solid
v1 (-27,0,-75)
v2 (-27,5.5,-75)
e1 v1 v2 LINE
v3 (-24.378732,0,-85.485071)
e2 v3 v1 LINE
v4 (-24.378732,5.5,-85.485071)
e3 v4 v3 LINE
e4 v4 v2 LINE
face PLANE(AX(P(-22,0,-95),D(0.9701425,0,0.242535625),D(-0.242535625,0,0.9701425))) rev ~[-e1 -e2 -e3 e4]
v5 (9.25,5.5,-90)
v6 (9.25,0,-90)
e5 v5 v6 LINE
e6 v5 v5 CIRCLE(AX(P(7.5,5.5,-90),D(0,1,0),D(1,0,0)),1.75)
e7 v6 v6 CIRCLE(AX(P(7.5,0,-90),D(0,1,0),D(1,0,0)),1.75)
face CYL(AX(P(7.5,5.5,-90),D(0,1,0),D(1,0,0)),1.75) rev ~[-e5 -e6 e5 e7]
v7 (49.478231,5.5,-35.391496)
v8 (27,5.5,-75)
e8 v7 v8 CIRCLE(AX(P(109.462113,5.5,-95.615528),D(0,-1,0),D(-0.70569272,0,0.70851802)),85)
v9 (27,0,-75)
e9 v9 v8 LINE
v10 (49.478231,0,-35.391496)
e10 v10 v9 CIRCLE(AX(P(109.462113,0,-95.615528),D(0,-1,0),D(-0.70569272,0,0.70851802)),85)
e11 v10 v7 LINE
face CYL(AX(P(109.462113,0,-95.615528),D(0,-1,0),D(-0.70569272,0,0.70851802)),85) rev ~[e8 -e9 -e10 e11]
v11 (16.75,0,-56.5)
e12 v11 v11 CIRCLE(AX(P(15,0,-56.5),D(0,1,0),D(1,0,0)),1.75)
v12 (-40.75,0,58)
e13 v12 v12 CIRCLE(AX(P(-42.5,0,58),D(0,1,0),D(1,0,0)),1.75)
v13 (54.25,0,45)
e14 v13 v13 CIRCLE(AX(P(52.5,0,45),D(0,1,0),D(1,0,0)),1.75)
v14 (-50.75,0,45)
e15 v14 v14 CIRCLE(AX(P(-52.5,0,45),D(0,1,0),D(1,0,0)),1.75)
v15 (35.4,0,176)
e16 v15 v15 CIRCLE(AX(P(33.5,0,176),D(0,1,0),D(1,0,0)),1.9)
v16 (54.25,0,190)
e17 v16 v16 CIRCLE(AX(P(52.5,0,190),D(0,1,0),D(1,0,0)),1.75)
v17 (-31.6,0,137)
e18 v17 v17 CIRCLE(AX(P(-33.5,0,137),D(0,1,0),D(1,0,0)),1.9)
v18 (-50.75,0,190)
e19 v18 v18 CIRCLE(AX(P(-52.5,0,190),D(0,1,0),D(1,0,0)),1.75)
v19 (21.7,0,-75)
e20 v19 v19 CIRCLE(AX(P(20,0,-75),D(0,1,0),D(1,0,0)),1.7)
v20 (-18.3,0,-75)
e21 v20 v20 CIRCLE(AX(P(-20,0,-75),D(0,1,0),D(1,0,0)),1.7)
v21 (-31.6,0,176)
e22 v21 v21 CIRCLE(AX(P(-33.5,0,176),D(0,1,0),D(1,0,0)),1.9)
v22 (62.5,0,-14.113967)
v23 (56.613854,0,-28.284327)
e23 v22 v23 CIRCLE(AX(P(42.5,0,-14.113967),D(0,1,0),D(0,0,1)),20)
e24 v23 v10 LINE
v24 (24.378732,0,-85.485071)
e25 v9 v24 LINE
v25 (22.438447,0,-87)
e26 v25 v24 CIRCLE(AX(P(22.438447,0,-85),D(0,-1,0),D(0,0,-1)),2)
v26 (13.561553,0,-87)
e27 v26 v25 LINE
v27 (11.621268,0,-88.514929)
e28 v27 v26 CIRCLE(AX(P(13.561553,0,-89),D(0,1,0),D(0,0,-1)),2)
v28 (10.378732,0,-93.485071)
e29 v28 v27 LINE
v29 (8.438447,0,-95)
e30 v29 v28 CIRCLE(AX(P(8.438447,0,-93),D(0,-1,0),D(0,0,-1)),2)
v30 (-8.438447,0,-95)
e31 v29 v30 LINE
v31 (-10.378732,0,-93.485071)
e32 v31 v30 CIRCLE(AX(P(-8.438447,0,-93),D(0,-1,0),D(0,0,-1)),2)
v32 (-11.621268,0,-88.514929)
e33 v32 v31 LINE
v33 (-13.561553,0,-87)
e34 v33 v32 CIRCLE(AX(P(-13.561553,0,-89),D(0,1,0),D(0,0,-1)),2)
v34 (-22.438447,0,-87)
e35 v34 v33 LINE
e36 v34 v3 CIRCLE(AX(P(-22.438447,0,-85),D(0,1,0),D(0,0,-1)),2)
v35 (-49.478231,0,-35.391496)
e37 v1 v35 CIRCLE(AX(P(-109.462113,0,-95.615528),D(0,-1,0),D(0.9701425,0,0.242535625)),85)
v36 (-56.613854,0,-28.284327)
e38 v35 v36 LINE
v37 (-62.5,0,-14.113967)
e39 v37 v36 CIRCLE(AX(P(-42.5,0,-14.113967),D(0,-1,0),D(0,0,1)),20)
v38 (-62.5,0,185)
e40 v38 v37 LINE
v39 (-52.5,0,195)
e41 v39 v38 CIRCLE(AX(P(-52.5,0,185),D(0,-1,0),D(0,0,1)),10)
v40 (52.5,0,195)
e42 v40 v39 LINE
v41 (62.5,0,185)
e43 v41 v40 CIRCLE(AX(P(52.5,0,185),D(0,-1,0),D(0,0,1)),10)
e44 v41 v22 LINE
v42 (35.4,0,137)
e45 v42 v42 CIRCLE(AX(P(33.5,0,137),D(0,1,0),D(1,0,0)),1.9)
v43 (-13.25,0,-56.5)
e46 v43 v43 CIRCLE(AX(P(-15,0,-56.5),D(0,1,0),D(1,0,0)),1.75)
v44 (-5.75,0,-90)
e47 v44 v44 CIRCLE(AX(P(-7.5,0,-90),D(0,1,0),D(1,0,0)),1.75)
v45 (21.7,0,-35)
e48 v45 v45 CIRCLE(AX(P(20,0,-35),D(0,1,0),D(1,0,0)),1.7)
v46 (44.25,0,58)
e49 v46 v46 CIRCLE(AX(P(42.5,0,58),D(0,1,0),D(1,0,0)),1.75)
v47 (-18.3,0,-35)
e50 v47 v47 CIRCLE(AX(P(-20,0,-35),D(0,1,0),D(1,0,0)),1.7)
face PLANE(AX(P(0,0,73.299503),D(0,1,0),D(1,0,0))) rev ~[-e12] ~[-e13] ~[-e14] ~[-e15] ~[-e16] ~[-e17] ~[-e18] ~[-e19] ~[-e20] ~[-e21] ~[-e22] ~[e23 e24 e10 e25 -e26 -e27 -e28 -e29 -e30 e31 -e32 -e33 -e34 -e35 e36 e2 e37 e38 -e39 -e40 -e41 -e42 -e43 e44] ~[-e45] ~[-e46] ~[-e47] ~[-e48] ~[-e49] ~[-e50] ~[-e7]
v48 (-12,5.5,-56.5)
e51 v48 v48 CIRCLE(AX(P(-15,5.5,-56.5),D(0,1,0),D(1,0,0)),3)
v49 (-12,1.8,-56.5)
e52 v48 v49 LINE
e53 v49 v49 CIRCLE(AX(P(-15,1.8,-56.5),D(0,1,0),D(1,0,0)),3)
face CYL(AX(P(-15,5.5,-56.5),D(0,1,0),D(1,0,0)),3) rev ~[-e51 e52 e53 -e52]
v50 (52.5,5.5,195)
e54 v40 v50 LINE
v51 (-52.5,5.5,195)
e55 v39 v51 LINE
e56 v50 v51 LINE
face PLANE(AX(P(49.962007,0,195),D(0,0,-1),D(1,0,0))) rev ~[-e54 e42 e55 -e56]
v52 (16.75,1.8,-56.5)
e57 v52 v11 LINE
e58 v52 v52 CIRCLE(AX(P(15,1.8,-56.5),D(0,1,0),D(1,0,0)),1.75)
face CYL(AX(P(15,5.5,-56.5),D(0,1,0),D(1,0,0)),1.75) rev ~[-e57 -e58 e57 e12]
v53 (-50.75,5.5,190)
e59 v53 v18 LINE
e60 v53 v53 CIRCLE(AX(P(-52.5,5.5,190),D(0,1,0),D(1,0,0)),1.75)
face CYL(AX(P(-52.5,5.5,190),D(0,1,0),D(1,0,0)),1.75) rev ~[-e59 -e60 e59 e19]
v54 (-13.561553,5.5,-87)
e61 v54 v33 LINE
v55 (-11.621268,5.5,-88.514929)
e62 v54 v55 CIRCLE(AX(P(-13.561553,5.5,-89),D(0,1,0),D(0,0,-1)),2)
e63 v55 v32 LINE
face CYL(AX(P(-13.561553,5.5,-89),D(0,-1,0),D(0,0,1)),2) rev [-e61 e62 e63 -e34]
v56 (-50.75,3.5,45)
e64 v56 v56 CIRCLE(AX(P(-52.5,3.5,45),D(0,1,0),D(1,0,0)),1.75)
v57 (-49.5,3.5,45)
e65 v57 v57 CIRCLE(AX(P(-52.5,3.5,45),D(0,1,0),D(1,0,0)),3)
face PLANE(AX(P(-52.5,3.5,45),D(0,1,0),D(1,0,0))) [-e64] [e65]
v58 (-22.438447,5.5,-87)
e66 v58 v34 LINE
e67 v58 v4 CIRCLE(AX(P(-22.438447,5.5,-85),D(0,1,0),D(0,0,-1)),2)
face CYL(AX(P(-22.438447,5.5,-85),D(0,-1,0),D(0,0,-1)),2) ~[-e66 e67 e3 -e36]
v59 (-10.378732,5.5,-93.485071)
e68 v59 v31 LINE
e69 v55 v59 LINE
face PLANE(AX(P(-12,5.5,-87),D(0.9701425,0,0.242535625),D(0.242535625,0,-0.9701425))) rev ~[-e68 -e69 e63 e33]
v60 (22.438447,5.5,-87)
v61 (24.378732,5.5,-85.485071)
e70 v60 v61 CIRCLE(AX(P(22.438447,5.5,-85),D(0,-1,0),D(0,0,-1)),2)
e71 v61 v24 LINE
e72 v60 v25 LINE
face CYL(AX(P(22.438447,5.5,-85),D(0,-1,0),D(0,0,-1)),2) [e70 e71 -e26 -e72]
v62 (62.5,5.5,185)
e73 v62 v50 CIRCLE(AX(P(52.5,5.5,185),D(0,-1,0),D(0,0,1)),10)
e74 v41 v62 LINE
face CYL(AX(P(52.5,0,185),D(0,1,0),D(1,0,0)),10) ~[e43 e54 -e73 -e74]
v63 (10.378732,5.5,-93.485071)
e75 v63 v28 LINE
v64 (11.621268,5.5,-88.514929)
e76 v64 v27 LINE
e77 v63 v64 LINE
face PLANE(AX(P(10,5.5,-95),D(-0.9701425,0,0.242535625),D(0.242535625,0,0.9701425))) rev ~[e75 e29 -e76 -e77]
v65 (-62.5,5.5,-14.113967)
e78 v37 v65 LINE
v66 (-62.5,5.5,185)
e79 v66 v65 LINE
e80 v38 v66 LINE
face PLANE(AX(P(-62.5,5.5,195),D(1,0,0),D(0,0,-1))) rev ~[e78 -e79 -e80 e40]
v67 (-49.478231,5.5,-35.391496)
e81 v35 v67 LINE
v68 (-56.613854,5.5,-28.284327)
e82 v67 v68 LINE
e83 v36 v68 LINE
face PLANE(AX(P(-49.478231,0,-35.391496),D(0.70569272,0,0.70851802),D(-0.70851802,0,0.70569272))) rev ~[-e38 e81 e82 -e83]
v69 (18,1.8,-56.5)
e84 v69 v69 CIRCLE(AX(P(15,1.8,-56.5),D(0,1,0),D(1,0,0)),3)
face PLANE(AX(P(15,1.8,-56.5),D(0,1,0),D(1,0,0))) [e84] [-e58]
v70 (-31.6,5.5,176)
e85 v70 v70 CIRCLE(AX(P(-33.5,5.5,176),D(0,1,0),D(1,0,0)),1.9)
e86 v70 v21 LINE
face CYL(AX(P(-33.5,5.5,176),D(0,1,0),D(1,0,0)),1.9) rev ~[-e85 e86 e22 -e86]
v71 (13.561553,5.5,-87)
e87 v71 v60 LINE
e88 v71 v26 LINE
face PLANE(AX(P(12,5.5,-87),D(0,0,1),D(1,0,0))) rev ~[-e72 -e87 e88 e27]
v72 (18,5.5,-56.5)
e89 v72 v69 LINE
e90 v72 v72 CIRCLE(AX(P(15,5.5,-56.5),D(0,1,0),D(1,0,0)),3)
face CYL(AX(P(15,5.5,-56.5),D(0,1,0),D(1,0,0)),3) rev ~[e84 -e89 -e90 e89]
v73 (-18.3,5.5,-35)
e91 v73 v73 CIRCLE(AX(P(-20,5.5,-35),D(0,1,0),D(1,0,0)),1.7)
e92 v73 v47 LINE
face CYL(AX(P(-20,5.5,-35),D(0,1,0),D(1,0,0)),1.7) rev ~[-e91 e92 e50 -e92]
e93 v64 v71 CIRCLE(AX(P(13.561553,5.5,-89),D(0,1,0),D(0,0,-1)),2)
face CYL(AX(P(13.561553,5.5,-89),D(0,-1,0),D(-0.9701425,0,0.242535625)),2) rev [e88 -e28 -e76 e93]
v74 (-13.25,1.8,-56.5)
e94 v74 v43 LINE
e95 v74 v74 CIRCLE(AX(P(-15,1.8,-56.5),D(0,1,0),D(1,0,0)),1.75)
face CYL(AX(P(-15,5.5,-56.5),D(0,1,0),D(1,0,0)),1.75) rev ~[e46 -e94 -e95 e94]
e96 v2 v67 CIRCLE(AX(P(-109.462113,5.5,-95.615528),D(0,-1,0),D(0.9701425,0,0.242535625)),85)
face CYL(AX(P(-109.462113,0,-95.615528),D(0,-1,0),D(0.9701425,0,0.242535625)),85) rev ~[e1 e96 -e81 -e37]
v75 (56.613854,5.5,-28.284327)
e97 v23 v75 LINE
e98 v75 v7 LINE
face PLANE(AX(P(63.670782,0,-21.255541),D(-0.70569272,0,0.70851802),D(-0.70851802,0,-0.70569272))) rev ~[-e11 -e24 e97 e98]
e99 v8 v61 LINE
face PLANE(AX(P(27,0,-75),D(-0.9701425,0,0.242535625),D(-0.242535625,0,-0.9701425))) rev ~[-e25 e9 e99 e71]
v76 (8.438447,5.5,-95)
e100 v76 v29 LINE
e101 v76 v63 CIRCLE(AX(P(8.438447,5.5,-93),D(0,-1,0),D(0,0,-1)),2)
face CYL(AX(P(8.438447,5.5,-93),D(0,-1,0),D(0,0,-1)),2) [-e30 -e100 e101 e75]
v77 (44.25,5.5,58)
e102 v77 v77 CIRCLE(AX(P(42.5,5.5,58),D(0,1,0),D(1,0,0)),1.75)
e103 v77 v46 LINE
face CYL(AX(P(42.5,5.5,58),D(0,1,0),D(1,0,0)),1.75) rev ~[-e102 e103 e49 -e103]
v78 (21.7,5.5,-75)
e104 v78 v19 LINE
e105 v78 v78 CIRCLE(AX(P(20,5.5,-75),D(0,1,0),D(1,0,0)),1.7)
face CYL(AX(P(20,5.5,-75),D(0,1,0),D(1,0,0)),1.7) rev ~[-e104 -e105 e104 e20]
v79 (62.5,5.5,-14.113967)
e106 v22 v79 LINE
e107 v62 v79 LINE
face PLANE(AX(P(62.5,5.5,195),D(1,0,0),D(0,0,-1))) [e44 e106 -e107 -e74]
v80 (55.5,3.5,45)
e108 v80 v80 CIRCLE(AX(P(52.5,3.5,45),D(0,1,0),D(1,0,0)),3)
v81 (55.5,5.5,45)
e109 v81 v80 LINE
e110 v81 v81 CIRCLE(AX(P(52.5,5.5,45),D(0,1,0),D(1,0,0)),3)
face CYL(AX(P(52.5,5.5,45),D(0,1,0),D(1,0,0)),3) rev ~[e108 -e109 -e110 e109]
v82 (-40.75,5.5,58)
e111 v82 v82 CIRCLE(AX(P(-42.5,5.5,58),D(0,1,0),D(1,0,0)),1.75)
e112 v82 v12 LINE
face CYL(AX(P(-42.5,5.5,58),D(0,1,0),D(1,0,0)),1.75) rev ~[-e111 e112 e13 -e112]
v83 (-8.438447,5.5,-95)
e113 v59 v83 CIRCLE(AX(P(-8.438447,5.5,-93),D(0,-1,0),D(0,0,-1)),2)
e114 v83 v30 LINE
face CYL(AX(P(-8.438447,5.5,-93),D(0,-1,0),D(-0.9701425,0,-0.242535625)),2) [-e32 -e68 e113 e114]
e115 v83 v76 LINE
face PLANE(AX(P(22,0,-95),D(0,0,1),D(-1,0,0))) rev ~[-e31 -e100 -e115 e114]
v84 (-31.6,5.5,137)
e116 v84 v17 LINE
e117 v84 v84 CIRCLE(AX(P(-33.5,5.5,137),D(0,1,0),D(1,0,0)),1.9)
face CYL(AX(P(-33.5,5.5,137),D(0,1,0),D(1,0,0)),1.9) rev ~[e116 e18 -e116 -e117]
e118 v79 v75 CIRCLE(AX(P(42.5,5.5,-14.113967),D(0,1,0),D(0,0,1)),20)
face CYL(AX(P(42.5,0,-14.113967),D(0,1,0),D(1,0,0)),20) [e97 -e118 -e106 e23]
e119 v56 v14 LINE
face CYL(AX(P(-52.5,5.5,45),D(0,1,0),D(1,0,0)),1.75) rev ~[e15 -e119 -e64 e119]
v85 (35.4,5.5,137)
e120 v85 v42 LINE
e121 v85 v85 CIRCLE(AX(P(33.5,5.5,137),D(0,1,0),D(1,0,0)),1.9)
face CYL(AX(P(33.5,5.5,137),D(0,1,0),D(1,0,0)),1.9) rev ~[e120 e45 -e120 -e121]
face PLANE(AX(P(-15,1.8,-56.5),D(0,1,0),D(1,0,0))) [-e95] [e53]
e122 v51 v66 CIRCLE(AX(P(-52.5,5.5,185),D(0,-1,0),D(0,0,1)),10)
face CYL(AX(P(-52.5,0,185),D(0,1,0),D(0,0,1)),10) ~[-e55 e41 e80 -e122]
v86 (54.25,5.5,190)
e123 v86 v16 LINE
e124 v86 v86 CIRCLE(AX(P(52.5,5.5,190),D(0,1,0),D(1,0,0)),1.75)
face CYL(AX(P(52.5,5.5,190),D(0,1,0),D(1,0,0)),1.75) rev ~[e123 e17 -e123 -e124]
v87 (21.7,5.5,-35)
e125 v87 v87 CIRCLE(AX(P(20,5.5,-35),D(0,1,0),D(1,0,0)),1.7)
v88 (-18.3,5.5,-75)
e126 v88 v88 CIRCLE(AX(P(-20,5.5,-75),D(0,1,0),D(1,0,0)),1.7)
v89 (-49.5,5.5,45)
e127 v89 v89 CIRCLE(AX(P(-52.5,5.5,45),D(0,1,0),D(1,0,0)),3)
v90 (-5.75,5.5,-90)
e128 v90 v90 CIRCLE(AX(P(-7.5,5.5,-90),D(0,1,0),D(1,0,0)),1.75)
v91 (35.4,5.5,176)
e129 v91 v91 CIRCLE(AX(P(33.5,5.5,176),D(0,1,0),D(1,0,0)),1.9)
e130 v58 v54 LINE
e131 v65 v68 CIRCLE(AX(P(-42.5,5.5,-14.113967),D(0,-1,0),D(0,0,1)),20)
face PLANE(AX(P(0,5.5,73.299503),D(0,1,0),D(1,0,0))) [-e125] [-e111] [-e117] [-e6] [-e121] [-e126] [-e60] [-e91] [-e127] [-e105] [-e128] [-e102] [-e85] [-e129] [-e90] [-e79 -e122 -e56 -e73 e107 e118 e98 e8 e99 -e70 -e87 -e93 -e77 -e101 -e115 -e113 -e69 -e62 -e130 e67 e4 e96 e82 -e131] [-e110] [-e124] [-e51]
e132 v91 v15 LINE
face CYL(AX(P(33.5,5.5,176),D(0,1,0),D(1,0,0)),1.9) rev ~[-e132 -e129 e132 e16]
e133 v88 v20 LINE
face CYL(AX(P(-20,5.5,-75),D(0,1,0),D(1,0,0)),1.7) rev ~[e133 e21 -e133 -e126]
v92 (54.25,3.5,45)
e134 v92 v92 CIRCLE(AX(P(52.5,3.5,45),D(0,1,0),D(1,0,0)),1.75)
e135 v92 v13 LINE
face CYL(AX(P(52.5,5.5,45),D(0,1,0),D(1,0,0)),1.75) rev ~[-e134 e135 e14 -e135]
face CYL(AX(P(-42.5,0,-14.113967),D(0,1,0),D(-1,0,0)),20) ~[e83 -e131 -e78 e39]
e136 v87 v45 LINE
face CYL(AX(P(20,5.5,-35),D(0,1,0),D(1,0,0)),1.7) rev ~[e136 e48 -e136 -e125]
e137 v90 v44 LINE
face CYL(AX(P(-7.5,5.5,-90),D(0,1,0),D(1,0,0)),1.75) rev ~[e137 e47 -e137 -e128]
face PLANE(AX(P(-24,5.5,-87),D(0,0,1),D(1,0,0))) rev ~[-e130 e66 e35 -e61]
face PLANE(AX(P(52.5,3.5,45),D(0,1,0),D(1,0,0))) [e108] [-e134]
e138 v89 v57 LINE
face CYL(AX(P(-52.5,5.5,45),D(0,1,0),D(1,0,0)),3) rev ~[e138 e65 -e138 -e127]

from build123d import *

# Parameters (mm, degrees)
DECK_BASE_DEPTH       = 5.5
BOLT_SLOT_REACH       = 7.5
SKETCH_3_R            = 1.75
SKETCH_14_R           = 3
BOLT_HEAD_DEPTH       = 2
FILLET_1_R            = 4
CUT_EXTRUDE_6_REACH   = 7.5
SKETCH_15_W           = 145
SKETCH_15_H           = 39
CUT_EXTRUDE_7_DEPTH   = 10
FILLET_2_R            = 2
SKETCH_17_OUTSIDE_W   = 211.856
SKETCH_17_OUTSIDE_H   = 356.856
SKETCH_17_OUTSIDE_W_2 = 125
SKETCH_17_OUTSIDE_H_2 = 290
CUT_EXTRUDE_8_DEPTH   = 10
FILLET_4_R            = 10
FILLET_5_R            = 20
LIDAR_SLOT_REACH      = 7.5
SKETCH_4_R            = 1.7
VESC_SLOT_REACH       = 7.5
SKETCH_6_R            = 1.9
NANO_SLOT_REACH       = 7.5
SKETCH_7_R            = 1.75
CUT_EXTRUDE_3_REACH   = 7.5
SKETCH_12_R           = 1.75
SKETCH_13_R           = 3
CUT_EXTRUDE_4_DEPTH   = 3.7


with BuildPart() as part:
    # 스케치1 → Deck base (new body)
    with BuildSketch(Plane(origin=(0, 0, 0), x_dir=(1, 0, 0), z_dir=(0, 1, 0))):
        with BuildLine():
            Line((-72.5, 0), (-72.5, -185))
            ThreePointArc((-72.5, -185), (-69.571067812, -192.071067812), (-62.5, -195))
            Line((-62.5, -195), (-49.962007487, -195))
            ThreePointArc((-49.962007487, -195), (-47.753248675, -195.514313374), (-45.998887542, -196.951446196))
            Line((-45.998887542, -196.951446196), (-19.001112458, -232.048553804))
            ThreePointArc((-19.001112458, -232.048553804), (-17.246751325, -233.485686626), (-15.037992513, -234))
            Line((-15.037992513, -234), (15.037992513, -234))
            ThreePointArc((15.037992513, -234), (17.246751325, -233.485686626), (19.001112458, -232.048553804))
            Line((19.001112458, -232.048553804), (45.998887542, -196.951446196))
            ThreePointArc((45.998887542, -196.951446196), (47.753248675, -195.514313374), (49.962007487, -195))
            Line((49.962007487, -195), (62.5, -195))
            ThreePointArc((62.5, -195), (69.571067812, -192.071067812), (72.5, -185))
            Line((72.5, -185), (72.5, 0))
            ThreePointArc((72.5, 0), (70.204904333, 11.508182998), (63.670781605, 21.255540601))
            Line((63.670781605, 21.255540601), (49.478231298, 35.391496426))
            ThreePointArc((49.478231298, 35.391496426), (35.536990456, 53.662264501), (27, 75))
            Line((27, 75), (22, 95))
            Line((22, 95), (-22, 95))
            Line((-22, 95), (-27, 75))
            ThreePointArc((-27, 75), (-35.536990456, 53.662264501), (-49.478231298, 35.391496426))
            Line((-49.478231298, 35.391496426), (-63.670781605, 21.255540601))
            ThreePointArc((-63.670781605, 21.255540601), (-70.204904333, 11.508182998), (-72.5, 0))
        make_face()
    extrude(amount=DECK_BASE_DEPTH)

    # 스케치3 → Bolt slot (cut, up to next)
    with BuildSketch(Plane(origin=(0, 5.5, 0), x_dir=(1, 0, 0), z_dir=(0, 1, 0)), mode=Mode.PRIVATE) as bolt_slot_sk1:
        with Locations((7.5, 90)):
            Circle(SKETCH_3_R)
    bolt_slot_tool1 = extrude(bolt_slot_sk1.sketch, amount=-BOLT_SLOT_REACH, mode=Mode.PRIVATE) & part.part
    add(bolt_slot_tool1.solids().sort_by_distance((7.5, 5.5, -90))[0], mode=Mode.SUBTRACT)
    # 스케치3 → Bolt slot (cut, up to next)
    with BuildSketch(Plane(origin=(0, 5.5, 0), x_dir=(1, 0, 0), z_dir=(0, 1, 0)), mode=Mode.PRIVATE) as bolt_slot_sk2:
        with Locations((-7.5, 90)):
            Circle(SKETCH_3_R)
    bolt_slot_tool2 = extrude(bolt_slot_sk2.sketch, amount=-BOLT_SLOT_REACH, mode=Mode.PRIVATE) & part.part
    add(bolt_slot_tool2.solids().sort_by_distance((-7.5, 5.5, -90))[0], mode=Mode.SUBTRACT)
    # 스케치3 → Bolt slot (cut, up to next)
    with BuildSketch(Plane(origin=(0, 5.5, 0), x_dir=(1, 0, 0), z_dir=(0, 1, 0)), mode=Mode.PRIVATE) as bolt_slot_sk3:
        with Locations((52.5, -45)):
            Circle(SKETCH_3_R)
    bolt_slot_tool3 = extrude(bolt_slot_sk3.sketch, amount=-BOLT_SLOT_REACH, mode=Mode.PRIVATE) & part.part
    add(bolt_slot_tool3.solids().sort_by_distance((52.5, 5.5, 45))[0], mode=Mode.SUBTRACT)
    # 스케치3 → Bolt slot (cut, up to next)
    with BuildSketch(Plane(origin=(0, 5.5, 0), x_dir=(1, 0, 0), z_dir=(0, 1, 0)), mode=Mode.PRIVATE) as bolt_slot_sk4:
        with Locations((52.5, -190)):
            Circle(SKETCH_3_R)
    bolt_slot_tool4 = extrude(bolt_slot_sk4.sketch, amount=-BOLT_SLOT_REACH, mode=Mode.PRIVATE) & part.part
    add(bolt_slot_tool4.solids().sort_by_distance((52.5, 5.5, 190))[0], mode=Mode.SUBTRACT)
    # 스케치3 → Bolt slot (cut, up to next)
    with BuildSketch(Plane(origin=(0, 5.5, 0), x_dir=(1, 0, 0), z_dir=(0, 1, 0)), mode=Mode.PRIVATE) as bolt_slot_sk5:
        with Locations((-52.5, -190)):
            Circle(SKETCH_3_R)
    bolt_slot_tool5 = extrude(bolt_slot_sk5.sketch, amount=-BOLT_SLOT_REACH, mode=Mode.PRIVATE) & part.part
    add(bolt_slot_tool5.solids().sort_by_distance((-52.5, 5.5, 190))[0], mode=Mode.SUBTRACT)
    # 스케치3 → Bolt slot (cut, up to next)
    with BuildSketch(Plane(origin=(0, 5.5, 0), x_dir=(1, 0, 0), z_dir=(0, 1, 0)), mode=Mode.PRIVATE) as bolt_slot_sk6:
        with Locations((-52.5, -45)):
            Circle(SKETCH_3_R)
    bolt_slot_tool6 = extrude(bolt_slot_sk6.sketch, amount=-BOLT_SLOT_REACH, mode=Mode.PRIVATE) & part.part
    add(bolt_slot_tool6.solids().sort_by_distance((-52.5, 5.5, 45))[0], mode=Mode.SUBTRACT)

    # 스케치14 → Bolt head (cut)
    with BuildSketch(Plane(origin=(0, 5.5, 0), x_dir=(1, 0, 0), z_dir=(0, 1, 0))):
        with Locations((-52.5, -45)):
            Circle(SKETCH_14_R)
        with Locations((52.5, -45)):
            Circle(SKETCH_14_R)
    extrude(amount=-BOLT_HEAD_DEPTH, mode=Mode.SUBTRACT)

    # 필렛1
    fillet_1_edges = [part.edges().sort_by_distance(p)[0] for p in [
        (22, 2.75, -95),
        (-22, 2.75, -95),
    ]]
    fillet(fillet_1_edges, radius=FILLET_1_R)

    # 스케치15 → 컷-돌출6 (cut, up to next)
    with BuildSketch(Plane(origin=(0, 5.5, 0), x_dir=(1, 0, 0), z_dir=(0, 1, 0)), mode=Mode.PRIVATE) as cut_extrude_6_sk1:
        with Locations((0, -214.5)):
            Rectangle(SKETCH_15_W, SKETCH_15_H)
    cut_extrude_6_tool1 = extrude(cut_extrude_6_sk1.sketch, amount=-CUT_EXTRUDE_6_REACH, mode=Mode.PRIVATE) & part.part
    add(cut_extrude_6_tool1.solids().sort_by_distance((0, 5.5, 214.5))[0], mode=Mode.SUBTRACT)

    # 스케치16 → 컷-돌출7 (cut)
    with BuildSketch(Plane(origin=(0, 5.5, 0), x_dir=(1, 0, 0), z_dir=(0, 1, 0))):
        Polygon((-9.999999999, 95), (10.000000001, 95), (12.000000001, 87), (24, 87), (24, 100), (-24, 100), (-24, 87), (-11.999999999, 87), align=None)
    extrude(amount=-CUT_EXTRUDE_7_DEPTH, mode=Mode.SUBTRACT)

    # 필렛2
    fillet_2_edges = [part.edges().sort_by_distance(p)[0] for p in [
        (-9.999999999, 2.75, -95),
        (-11.999999999, 2.75, -87),
        (-24, 2.75, -87),
        (24, 2.75, -87),
        (12.000000001, 2.75, -87),
        (10.000000001, 2.75, -95),
    ]]
    fillet(fillet_2_edges, radius=FILLET_2_R)

    # 스케치17 outside → 컷-돌출8 (cut)
    with BuildSketch(Plane(origin=(0, 5.5, 0), x_dir=(1, 0, 0), z_dir=(0, 1, 0))):
        with Locations((0, -50)):
            Rectangle(SKETCH_17_OUTSIDE_W, SKETCH_17_OUTSIDE_H)
        with Locations((0, -50)):
            Rectangle(SKETCH_17_OUTSIDE_W_2, SKETCH_17_OUTSIDE_H_2, mode=Mode.SUBTRACT)
    extrude(amount=-CUT_EXTRUDE_8_DEPTH, mode=Mode.SUBTRACT)

    # 필렛4
    fillet_4_edges = [part.edges().sort_by_distance(p)[0] for p in [
        (-62.5, 2.75, 195),
        (62.5, 2.75, 195),
    ]]
    fillet(fillet_4_edges, radius=FILLET_4_R)

    # 필렛5
    fillet_5_edges = [part.edges().sort_by_distance(p)[0] for p in [
        (-62.5, 2.75, -22.421653575),
        (62.5, 2.75, -22.421653575),
    ]]
    fillet(fillet_5_edges, radius=FILLET_5_R)

    # 스케치4 → Lidar slot (cut, up to next)
    with BuildSketch(Plane(origin=(0, 5.5, 0), x_dir=(1, 0, 0), z_dir=(0, 1, 0)), mode=Mode.PRIVATE) as lidar_slot_sk1:
        with Locations((-20, 75)):
            Circle(SKETCH_4_R)
    lidar_slot_tool1 = extrude(lidar_slot_sk1.sketch, amount=-LIDAR_SLOT_REACH, mode=Mode.PRIVATE) & part.part
    add(lidar_slot_tool1.solids().sort_by_distance((-20, 5.5, -75))[0], mode=Mode.SUBTRACT)
    # 스케치4 → Lidar slot (cut, up to next)
    with BuildSketch(Plane(origin=(0, 5.5, 0), x_dir=(1, 0, 0), z_dir=(0, 1, 0)), mode=Mode.PRIVATE) as lidar_slot_sk2:
        with Locations((-20, 35)):
            Circle(SKETCH_4_R)
    lidar_slot_tool2 = extrude(lidar_slot_sk2.sketch, amount=-LIDAR_SLOT_REACH, mode=Mode.PRIVATE) & part.part
    add(lidar_slot_tool2.solids().sort_by_distance((-20, 5.5, -35))[0], mode=Mode.SUBTRACT)
    # 스케치4 → Lidar slot (cut, up to next)
    with BuildSketch(Plane(origin=(0, 5.5, 0), x_dir=(1, 0, 0), z_dir=(0, 1, 0)), mode=Mode.PRIVATE) as lidar_slot_sk3:
        with Locations((20, 35)):
            Circle(SKETCH_4_R)
    lidar_slot_tool3 = extrude(lidar_slot_sk3.sketch, amount=-LIDAR_SLOT_REACH, mode=Mode.PRIVATE) & part.part
    add(lidar_slot_tool3.solids().sort_by_distance((20, 5.5, -35))[0], mode=Mode.SUBTRACT)
    # 스케치4 → Lidar slot (cut, up to next)
    with BuildSketch(Plane(origin=(0, 5.5, 0), x_dir=(1, 0, 0), z_dir=(0, 1, 0)), mode=Mode.PRIVATE) as lidar_slot_sk4:
        with Locations((20, 75)):
            Circle(SKETCH_4_R)
    lidar_slot_tool4 = extrude(lidar_slot_sk4.sketch, amount=-LIDAR_SLOT_REACH, mode=Mode.PRIVATE) & part.part
    add(lidar_slot_tool4.solids().sort_by_distance((20, 5.5, -75))[0], mode=Mode.SUBTRACT)

    # 스케치6 → Vesc slot (cut, up to next)
    with BuildSketch(Plane(origin=(0, 5.5, 0), x_dir=(1, 0, 0), z_dir=(0, 1, 0)), mode=Mode.PRIVATE) as vesc_slot_sk1:
        with Locations((33.5, -137)):
            Circle(SKETCH_6_R)
    vesc_slot_tool1 = extrude(vesc_slot_sk1.sketch, amount=-VESC_SLOT_REACH, mode=Mode.PRIVATE) & part.part
    add(vesc_slot_tool1.solids().sort_by_distance((33.5, 5.5, 137))[0], mode=Mode.SUBTRACT)
    # 스케치6 → Vesc slot (cut, up to next)
    with BuildSketch(Plane(origin=(0, 5.5, 0), x_dir=(1, 0, 0), z_dir=(0, 1, 0)), mode=Mode.PRIVATE) as vesc_slot_sk2:
        with Locations((33.5, -176)):
            Circle(SKETCH_6_R)
    vesc_slot_tool2 = extrude(vesc_slot_sk2.sketch, amount=-VESC_SLOT_REACH, mode=Mode.PRIVATE) & part.part
    add(vesc_slot_tool2.solids().sort_by_distance((33.5, 5.5, 176))[0], mode=Mode.SUBTRACT)
    # 스케치6 → Vesc slot (cut, up to next)
    with BuildSketch(Plane(origin=(0, 5.5, 0), x_dir=(1, 0, 0), z_dir=(0, 1, 0)), mode=Mode.PRIVATE) as vesc_slot_sk3:
        with Locations((-33.5, -176)):
            Circle(SKETCH_6_R)
    vesc_slot_tool3 = extrude(vesc_slot_sk3.sketch, amount=-VESC_SLOT_REACH, mode=Mode.PRIVATE) & part.part
    add(vesc_slot_tool3.solids().sort_by_distance((-33.5, 5.5, 176))[0], mode=Mode.SUBTRACT)
    # 스케치6 → Vesc slot (cut, up to next)
    with BuildSketch(Plane(origin=(0, 5.5, 0), x_dir=(1, 0, 0), z_dir=(0, 1, 0)), mode=Mode.PRIVATE) as vesc_slot_sk4:
        with Locations((-33.5, -137)):
            Circle(SKETCH_6_R)
    vesc_slot_tool4 = extrude(vesc_slot_sk4.sketch, amount=-VESC_SLOT_REACH, mode=Mode.PRIVATE) & part.part
    add(vesc_slot_tool4.solids().sort_by_distance((-33.5, 5.5, 137))[0], mode=Mode.SUBTRACT)

    # 스케치7 → Nano slot (cut, up to next)
    with BuildSketch(Plane(origin=(0, 5.5, 0), x_dir=(1, 0, 0), z_dir=(0, 1, 0)), mode=Mode.PRIVATE) as nano_slot_sk1:
        with Locations((-42.5, -58)):
            Circle(SKETCH_7_R)
    nano_slot_tool1 = extrude(nano_slot_sk1.sketch, amount=-NANO_SLOT_REACH, mode=Mode.PRIVATE) & part.part
    add(nano_slot_tool1.solids().sort_by_distance((-42.5, 5.5, 58))[0], mode=Mode.SUBTRACT)
    # 스케치7 → Nano slot (cut, up to next)
    with BuildSketch(Plane(origin=(0, 5.5, 0), x_dir=(1, 0, 0), z_dir=(0, 1, 0)), mode=Mode.PRIVATE) as nano_slot_sk2:
        with Locations((42.5, -58)):
            Circle(SKETCH_7_R)
    nano_slot_tool2 = extrude(nano_slot_sk2.sketch, amount=-NANO_SLOT_REACH, mode=Mode.PRIVATE) & part.part
    add(nano_slot_tool2.solids().sort_by_distance((42.5, 5.5, 58))[0], mode=Mode.SUBTRACT)

    # 스케치12 → 컷-돌출3 (cut, up to next)
    with BuildSketch(Plane(origin=(0, 5.5, 0), x_dir=(1, 0, 0), z_dir=(0, 1, 0)), mode=Mode.PRIVATE) as cut_extrude_3_sk1:
        with Locations((-15, 56.5)):
            Circle(SKETCH_12_R)
    cut_extrude_3_tool1 = extrude(cut_extrude_3_sk1.sketch, amount=-CUT_EXTRUDE_3_REACH, mode=Mode.PRIVATE) & part.part
    add(cut_extrude_3_tool1.solids().sort_by_distance((-15, 5.5, -56.5))[0], mode=Mode.SUBTRACT)
    # 스케치12 → 컷-돌출3 (cut, up to next)
    with BuildSketch(Plane(origin=(0, 5.5, 0), x_dir=(1, 0, 0), z_dir=(0, 1, 0)), mode=Mode.PRIVATE) as cut_extrude_3_sk2:
        with Locations((15, 56.5)):
            Circle(SKETCH_12_R)
    cut_extrude_3_tool2 = extrude(cut_extrude_3_sk2.sketch, amount=-CUT_EXTRUDE_3_REACH, mode=Mode.PRIVATE) & part.part
    add(cut_extrude_3_tool2.solids().sort_by_distance((15, 5.5, -56.5))[0], mode=Mode.SUBTRACT)

    # 스케치13 → 컷-돌출4 (cut)
    with BuildSketch(Plane(origin=(0, 5.5, 0), x_dir=(1, 0, 0), z_dir=(0, 1, 0))):
        with Locations((-15, 56.5)):
            Circle(SKETCH_13_R)
        with Locations((15, 56.5)):
            Circle(SKETCH_13_R)
    extrude(amount=-CUT_EXTRUDE_4_DEPTH, mode=Mode.SUBTRACT)


solid = part.part
